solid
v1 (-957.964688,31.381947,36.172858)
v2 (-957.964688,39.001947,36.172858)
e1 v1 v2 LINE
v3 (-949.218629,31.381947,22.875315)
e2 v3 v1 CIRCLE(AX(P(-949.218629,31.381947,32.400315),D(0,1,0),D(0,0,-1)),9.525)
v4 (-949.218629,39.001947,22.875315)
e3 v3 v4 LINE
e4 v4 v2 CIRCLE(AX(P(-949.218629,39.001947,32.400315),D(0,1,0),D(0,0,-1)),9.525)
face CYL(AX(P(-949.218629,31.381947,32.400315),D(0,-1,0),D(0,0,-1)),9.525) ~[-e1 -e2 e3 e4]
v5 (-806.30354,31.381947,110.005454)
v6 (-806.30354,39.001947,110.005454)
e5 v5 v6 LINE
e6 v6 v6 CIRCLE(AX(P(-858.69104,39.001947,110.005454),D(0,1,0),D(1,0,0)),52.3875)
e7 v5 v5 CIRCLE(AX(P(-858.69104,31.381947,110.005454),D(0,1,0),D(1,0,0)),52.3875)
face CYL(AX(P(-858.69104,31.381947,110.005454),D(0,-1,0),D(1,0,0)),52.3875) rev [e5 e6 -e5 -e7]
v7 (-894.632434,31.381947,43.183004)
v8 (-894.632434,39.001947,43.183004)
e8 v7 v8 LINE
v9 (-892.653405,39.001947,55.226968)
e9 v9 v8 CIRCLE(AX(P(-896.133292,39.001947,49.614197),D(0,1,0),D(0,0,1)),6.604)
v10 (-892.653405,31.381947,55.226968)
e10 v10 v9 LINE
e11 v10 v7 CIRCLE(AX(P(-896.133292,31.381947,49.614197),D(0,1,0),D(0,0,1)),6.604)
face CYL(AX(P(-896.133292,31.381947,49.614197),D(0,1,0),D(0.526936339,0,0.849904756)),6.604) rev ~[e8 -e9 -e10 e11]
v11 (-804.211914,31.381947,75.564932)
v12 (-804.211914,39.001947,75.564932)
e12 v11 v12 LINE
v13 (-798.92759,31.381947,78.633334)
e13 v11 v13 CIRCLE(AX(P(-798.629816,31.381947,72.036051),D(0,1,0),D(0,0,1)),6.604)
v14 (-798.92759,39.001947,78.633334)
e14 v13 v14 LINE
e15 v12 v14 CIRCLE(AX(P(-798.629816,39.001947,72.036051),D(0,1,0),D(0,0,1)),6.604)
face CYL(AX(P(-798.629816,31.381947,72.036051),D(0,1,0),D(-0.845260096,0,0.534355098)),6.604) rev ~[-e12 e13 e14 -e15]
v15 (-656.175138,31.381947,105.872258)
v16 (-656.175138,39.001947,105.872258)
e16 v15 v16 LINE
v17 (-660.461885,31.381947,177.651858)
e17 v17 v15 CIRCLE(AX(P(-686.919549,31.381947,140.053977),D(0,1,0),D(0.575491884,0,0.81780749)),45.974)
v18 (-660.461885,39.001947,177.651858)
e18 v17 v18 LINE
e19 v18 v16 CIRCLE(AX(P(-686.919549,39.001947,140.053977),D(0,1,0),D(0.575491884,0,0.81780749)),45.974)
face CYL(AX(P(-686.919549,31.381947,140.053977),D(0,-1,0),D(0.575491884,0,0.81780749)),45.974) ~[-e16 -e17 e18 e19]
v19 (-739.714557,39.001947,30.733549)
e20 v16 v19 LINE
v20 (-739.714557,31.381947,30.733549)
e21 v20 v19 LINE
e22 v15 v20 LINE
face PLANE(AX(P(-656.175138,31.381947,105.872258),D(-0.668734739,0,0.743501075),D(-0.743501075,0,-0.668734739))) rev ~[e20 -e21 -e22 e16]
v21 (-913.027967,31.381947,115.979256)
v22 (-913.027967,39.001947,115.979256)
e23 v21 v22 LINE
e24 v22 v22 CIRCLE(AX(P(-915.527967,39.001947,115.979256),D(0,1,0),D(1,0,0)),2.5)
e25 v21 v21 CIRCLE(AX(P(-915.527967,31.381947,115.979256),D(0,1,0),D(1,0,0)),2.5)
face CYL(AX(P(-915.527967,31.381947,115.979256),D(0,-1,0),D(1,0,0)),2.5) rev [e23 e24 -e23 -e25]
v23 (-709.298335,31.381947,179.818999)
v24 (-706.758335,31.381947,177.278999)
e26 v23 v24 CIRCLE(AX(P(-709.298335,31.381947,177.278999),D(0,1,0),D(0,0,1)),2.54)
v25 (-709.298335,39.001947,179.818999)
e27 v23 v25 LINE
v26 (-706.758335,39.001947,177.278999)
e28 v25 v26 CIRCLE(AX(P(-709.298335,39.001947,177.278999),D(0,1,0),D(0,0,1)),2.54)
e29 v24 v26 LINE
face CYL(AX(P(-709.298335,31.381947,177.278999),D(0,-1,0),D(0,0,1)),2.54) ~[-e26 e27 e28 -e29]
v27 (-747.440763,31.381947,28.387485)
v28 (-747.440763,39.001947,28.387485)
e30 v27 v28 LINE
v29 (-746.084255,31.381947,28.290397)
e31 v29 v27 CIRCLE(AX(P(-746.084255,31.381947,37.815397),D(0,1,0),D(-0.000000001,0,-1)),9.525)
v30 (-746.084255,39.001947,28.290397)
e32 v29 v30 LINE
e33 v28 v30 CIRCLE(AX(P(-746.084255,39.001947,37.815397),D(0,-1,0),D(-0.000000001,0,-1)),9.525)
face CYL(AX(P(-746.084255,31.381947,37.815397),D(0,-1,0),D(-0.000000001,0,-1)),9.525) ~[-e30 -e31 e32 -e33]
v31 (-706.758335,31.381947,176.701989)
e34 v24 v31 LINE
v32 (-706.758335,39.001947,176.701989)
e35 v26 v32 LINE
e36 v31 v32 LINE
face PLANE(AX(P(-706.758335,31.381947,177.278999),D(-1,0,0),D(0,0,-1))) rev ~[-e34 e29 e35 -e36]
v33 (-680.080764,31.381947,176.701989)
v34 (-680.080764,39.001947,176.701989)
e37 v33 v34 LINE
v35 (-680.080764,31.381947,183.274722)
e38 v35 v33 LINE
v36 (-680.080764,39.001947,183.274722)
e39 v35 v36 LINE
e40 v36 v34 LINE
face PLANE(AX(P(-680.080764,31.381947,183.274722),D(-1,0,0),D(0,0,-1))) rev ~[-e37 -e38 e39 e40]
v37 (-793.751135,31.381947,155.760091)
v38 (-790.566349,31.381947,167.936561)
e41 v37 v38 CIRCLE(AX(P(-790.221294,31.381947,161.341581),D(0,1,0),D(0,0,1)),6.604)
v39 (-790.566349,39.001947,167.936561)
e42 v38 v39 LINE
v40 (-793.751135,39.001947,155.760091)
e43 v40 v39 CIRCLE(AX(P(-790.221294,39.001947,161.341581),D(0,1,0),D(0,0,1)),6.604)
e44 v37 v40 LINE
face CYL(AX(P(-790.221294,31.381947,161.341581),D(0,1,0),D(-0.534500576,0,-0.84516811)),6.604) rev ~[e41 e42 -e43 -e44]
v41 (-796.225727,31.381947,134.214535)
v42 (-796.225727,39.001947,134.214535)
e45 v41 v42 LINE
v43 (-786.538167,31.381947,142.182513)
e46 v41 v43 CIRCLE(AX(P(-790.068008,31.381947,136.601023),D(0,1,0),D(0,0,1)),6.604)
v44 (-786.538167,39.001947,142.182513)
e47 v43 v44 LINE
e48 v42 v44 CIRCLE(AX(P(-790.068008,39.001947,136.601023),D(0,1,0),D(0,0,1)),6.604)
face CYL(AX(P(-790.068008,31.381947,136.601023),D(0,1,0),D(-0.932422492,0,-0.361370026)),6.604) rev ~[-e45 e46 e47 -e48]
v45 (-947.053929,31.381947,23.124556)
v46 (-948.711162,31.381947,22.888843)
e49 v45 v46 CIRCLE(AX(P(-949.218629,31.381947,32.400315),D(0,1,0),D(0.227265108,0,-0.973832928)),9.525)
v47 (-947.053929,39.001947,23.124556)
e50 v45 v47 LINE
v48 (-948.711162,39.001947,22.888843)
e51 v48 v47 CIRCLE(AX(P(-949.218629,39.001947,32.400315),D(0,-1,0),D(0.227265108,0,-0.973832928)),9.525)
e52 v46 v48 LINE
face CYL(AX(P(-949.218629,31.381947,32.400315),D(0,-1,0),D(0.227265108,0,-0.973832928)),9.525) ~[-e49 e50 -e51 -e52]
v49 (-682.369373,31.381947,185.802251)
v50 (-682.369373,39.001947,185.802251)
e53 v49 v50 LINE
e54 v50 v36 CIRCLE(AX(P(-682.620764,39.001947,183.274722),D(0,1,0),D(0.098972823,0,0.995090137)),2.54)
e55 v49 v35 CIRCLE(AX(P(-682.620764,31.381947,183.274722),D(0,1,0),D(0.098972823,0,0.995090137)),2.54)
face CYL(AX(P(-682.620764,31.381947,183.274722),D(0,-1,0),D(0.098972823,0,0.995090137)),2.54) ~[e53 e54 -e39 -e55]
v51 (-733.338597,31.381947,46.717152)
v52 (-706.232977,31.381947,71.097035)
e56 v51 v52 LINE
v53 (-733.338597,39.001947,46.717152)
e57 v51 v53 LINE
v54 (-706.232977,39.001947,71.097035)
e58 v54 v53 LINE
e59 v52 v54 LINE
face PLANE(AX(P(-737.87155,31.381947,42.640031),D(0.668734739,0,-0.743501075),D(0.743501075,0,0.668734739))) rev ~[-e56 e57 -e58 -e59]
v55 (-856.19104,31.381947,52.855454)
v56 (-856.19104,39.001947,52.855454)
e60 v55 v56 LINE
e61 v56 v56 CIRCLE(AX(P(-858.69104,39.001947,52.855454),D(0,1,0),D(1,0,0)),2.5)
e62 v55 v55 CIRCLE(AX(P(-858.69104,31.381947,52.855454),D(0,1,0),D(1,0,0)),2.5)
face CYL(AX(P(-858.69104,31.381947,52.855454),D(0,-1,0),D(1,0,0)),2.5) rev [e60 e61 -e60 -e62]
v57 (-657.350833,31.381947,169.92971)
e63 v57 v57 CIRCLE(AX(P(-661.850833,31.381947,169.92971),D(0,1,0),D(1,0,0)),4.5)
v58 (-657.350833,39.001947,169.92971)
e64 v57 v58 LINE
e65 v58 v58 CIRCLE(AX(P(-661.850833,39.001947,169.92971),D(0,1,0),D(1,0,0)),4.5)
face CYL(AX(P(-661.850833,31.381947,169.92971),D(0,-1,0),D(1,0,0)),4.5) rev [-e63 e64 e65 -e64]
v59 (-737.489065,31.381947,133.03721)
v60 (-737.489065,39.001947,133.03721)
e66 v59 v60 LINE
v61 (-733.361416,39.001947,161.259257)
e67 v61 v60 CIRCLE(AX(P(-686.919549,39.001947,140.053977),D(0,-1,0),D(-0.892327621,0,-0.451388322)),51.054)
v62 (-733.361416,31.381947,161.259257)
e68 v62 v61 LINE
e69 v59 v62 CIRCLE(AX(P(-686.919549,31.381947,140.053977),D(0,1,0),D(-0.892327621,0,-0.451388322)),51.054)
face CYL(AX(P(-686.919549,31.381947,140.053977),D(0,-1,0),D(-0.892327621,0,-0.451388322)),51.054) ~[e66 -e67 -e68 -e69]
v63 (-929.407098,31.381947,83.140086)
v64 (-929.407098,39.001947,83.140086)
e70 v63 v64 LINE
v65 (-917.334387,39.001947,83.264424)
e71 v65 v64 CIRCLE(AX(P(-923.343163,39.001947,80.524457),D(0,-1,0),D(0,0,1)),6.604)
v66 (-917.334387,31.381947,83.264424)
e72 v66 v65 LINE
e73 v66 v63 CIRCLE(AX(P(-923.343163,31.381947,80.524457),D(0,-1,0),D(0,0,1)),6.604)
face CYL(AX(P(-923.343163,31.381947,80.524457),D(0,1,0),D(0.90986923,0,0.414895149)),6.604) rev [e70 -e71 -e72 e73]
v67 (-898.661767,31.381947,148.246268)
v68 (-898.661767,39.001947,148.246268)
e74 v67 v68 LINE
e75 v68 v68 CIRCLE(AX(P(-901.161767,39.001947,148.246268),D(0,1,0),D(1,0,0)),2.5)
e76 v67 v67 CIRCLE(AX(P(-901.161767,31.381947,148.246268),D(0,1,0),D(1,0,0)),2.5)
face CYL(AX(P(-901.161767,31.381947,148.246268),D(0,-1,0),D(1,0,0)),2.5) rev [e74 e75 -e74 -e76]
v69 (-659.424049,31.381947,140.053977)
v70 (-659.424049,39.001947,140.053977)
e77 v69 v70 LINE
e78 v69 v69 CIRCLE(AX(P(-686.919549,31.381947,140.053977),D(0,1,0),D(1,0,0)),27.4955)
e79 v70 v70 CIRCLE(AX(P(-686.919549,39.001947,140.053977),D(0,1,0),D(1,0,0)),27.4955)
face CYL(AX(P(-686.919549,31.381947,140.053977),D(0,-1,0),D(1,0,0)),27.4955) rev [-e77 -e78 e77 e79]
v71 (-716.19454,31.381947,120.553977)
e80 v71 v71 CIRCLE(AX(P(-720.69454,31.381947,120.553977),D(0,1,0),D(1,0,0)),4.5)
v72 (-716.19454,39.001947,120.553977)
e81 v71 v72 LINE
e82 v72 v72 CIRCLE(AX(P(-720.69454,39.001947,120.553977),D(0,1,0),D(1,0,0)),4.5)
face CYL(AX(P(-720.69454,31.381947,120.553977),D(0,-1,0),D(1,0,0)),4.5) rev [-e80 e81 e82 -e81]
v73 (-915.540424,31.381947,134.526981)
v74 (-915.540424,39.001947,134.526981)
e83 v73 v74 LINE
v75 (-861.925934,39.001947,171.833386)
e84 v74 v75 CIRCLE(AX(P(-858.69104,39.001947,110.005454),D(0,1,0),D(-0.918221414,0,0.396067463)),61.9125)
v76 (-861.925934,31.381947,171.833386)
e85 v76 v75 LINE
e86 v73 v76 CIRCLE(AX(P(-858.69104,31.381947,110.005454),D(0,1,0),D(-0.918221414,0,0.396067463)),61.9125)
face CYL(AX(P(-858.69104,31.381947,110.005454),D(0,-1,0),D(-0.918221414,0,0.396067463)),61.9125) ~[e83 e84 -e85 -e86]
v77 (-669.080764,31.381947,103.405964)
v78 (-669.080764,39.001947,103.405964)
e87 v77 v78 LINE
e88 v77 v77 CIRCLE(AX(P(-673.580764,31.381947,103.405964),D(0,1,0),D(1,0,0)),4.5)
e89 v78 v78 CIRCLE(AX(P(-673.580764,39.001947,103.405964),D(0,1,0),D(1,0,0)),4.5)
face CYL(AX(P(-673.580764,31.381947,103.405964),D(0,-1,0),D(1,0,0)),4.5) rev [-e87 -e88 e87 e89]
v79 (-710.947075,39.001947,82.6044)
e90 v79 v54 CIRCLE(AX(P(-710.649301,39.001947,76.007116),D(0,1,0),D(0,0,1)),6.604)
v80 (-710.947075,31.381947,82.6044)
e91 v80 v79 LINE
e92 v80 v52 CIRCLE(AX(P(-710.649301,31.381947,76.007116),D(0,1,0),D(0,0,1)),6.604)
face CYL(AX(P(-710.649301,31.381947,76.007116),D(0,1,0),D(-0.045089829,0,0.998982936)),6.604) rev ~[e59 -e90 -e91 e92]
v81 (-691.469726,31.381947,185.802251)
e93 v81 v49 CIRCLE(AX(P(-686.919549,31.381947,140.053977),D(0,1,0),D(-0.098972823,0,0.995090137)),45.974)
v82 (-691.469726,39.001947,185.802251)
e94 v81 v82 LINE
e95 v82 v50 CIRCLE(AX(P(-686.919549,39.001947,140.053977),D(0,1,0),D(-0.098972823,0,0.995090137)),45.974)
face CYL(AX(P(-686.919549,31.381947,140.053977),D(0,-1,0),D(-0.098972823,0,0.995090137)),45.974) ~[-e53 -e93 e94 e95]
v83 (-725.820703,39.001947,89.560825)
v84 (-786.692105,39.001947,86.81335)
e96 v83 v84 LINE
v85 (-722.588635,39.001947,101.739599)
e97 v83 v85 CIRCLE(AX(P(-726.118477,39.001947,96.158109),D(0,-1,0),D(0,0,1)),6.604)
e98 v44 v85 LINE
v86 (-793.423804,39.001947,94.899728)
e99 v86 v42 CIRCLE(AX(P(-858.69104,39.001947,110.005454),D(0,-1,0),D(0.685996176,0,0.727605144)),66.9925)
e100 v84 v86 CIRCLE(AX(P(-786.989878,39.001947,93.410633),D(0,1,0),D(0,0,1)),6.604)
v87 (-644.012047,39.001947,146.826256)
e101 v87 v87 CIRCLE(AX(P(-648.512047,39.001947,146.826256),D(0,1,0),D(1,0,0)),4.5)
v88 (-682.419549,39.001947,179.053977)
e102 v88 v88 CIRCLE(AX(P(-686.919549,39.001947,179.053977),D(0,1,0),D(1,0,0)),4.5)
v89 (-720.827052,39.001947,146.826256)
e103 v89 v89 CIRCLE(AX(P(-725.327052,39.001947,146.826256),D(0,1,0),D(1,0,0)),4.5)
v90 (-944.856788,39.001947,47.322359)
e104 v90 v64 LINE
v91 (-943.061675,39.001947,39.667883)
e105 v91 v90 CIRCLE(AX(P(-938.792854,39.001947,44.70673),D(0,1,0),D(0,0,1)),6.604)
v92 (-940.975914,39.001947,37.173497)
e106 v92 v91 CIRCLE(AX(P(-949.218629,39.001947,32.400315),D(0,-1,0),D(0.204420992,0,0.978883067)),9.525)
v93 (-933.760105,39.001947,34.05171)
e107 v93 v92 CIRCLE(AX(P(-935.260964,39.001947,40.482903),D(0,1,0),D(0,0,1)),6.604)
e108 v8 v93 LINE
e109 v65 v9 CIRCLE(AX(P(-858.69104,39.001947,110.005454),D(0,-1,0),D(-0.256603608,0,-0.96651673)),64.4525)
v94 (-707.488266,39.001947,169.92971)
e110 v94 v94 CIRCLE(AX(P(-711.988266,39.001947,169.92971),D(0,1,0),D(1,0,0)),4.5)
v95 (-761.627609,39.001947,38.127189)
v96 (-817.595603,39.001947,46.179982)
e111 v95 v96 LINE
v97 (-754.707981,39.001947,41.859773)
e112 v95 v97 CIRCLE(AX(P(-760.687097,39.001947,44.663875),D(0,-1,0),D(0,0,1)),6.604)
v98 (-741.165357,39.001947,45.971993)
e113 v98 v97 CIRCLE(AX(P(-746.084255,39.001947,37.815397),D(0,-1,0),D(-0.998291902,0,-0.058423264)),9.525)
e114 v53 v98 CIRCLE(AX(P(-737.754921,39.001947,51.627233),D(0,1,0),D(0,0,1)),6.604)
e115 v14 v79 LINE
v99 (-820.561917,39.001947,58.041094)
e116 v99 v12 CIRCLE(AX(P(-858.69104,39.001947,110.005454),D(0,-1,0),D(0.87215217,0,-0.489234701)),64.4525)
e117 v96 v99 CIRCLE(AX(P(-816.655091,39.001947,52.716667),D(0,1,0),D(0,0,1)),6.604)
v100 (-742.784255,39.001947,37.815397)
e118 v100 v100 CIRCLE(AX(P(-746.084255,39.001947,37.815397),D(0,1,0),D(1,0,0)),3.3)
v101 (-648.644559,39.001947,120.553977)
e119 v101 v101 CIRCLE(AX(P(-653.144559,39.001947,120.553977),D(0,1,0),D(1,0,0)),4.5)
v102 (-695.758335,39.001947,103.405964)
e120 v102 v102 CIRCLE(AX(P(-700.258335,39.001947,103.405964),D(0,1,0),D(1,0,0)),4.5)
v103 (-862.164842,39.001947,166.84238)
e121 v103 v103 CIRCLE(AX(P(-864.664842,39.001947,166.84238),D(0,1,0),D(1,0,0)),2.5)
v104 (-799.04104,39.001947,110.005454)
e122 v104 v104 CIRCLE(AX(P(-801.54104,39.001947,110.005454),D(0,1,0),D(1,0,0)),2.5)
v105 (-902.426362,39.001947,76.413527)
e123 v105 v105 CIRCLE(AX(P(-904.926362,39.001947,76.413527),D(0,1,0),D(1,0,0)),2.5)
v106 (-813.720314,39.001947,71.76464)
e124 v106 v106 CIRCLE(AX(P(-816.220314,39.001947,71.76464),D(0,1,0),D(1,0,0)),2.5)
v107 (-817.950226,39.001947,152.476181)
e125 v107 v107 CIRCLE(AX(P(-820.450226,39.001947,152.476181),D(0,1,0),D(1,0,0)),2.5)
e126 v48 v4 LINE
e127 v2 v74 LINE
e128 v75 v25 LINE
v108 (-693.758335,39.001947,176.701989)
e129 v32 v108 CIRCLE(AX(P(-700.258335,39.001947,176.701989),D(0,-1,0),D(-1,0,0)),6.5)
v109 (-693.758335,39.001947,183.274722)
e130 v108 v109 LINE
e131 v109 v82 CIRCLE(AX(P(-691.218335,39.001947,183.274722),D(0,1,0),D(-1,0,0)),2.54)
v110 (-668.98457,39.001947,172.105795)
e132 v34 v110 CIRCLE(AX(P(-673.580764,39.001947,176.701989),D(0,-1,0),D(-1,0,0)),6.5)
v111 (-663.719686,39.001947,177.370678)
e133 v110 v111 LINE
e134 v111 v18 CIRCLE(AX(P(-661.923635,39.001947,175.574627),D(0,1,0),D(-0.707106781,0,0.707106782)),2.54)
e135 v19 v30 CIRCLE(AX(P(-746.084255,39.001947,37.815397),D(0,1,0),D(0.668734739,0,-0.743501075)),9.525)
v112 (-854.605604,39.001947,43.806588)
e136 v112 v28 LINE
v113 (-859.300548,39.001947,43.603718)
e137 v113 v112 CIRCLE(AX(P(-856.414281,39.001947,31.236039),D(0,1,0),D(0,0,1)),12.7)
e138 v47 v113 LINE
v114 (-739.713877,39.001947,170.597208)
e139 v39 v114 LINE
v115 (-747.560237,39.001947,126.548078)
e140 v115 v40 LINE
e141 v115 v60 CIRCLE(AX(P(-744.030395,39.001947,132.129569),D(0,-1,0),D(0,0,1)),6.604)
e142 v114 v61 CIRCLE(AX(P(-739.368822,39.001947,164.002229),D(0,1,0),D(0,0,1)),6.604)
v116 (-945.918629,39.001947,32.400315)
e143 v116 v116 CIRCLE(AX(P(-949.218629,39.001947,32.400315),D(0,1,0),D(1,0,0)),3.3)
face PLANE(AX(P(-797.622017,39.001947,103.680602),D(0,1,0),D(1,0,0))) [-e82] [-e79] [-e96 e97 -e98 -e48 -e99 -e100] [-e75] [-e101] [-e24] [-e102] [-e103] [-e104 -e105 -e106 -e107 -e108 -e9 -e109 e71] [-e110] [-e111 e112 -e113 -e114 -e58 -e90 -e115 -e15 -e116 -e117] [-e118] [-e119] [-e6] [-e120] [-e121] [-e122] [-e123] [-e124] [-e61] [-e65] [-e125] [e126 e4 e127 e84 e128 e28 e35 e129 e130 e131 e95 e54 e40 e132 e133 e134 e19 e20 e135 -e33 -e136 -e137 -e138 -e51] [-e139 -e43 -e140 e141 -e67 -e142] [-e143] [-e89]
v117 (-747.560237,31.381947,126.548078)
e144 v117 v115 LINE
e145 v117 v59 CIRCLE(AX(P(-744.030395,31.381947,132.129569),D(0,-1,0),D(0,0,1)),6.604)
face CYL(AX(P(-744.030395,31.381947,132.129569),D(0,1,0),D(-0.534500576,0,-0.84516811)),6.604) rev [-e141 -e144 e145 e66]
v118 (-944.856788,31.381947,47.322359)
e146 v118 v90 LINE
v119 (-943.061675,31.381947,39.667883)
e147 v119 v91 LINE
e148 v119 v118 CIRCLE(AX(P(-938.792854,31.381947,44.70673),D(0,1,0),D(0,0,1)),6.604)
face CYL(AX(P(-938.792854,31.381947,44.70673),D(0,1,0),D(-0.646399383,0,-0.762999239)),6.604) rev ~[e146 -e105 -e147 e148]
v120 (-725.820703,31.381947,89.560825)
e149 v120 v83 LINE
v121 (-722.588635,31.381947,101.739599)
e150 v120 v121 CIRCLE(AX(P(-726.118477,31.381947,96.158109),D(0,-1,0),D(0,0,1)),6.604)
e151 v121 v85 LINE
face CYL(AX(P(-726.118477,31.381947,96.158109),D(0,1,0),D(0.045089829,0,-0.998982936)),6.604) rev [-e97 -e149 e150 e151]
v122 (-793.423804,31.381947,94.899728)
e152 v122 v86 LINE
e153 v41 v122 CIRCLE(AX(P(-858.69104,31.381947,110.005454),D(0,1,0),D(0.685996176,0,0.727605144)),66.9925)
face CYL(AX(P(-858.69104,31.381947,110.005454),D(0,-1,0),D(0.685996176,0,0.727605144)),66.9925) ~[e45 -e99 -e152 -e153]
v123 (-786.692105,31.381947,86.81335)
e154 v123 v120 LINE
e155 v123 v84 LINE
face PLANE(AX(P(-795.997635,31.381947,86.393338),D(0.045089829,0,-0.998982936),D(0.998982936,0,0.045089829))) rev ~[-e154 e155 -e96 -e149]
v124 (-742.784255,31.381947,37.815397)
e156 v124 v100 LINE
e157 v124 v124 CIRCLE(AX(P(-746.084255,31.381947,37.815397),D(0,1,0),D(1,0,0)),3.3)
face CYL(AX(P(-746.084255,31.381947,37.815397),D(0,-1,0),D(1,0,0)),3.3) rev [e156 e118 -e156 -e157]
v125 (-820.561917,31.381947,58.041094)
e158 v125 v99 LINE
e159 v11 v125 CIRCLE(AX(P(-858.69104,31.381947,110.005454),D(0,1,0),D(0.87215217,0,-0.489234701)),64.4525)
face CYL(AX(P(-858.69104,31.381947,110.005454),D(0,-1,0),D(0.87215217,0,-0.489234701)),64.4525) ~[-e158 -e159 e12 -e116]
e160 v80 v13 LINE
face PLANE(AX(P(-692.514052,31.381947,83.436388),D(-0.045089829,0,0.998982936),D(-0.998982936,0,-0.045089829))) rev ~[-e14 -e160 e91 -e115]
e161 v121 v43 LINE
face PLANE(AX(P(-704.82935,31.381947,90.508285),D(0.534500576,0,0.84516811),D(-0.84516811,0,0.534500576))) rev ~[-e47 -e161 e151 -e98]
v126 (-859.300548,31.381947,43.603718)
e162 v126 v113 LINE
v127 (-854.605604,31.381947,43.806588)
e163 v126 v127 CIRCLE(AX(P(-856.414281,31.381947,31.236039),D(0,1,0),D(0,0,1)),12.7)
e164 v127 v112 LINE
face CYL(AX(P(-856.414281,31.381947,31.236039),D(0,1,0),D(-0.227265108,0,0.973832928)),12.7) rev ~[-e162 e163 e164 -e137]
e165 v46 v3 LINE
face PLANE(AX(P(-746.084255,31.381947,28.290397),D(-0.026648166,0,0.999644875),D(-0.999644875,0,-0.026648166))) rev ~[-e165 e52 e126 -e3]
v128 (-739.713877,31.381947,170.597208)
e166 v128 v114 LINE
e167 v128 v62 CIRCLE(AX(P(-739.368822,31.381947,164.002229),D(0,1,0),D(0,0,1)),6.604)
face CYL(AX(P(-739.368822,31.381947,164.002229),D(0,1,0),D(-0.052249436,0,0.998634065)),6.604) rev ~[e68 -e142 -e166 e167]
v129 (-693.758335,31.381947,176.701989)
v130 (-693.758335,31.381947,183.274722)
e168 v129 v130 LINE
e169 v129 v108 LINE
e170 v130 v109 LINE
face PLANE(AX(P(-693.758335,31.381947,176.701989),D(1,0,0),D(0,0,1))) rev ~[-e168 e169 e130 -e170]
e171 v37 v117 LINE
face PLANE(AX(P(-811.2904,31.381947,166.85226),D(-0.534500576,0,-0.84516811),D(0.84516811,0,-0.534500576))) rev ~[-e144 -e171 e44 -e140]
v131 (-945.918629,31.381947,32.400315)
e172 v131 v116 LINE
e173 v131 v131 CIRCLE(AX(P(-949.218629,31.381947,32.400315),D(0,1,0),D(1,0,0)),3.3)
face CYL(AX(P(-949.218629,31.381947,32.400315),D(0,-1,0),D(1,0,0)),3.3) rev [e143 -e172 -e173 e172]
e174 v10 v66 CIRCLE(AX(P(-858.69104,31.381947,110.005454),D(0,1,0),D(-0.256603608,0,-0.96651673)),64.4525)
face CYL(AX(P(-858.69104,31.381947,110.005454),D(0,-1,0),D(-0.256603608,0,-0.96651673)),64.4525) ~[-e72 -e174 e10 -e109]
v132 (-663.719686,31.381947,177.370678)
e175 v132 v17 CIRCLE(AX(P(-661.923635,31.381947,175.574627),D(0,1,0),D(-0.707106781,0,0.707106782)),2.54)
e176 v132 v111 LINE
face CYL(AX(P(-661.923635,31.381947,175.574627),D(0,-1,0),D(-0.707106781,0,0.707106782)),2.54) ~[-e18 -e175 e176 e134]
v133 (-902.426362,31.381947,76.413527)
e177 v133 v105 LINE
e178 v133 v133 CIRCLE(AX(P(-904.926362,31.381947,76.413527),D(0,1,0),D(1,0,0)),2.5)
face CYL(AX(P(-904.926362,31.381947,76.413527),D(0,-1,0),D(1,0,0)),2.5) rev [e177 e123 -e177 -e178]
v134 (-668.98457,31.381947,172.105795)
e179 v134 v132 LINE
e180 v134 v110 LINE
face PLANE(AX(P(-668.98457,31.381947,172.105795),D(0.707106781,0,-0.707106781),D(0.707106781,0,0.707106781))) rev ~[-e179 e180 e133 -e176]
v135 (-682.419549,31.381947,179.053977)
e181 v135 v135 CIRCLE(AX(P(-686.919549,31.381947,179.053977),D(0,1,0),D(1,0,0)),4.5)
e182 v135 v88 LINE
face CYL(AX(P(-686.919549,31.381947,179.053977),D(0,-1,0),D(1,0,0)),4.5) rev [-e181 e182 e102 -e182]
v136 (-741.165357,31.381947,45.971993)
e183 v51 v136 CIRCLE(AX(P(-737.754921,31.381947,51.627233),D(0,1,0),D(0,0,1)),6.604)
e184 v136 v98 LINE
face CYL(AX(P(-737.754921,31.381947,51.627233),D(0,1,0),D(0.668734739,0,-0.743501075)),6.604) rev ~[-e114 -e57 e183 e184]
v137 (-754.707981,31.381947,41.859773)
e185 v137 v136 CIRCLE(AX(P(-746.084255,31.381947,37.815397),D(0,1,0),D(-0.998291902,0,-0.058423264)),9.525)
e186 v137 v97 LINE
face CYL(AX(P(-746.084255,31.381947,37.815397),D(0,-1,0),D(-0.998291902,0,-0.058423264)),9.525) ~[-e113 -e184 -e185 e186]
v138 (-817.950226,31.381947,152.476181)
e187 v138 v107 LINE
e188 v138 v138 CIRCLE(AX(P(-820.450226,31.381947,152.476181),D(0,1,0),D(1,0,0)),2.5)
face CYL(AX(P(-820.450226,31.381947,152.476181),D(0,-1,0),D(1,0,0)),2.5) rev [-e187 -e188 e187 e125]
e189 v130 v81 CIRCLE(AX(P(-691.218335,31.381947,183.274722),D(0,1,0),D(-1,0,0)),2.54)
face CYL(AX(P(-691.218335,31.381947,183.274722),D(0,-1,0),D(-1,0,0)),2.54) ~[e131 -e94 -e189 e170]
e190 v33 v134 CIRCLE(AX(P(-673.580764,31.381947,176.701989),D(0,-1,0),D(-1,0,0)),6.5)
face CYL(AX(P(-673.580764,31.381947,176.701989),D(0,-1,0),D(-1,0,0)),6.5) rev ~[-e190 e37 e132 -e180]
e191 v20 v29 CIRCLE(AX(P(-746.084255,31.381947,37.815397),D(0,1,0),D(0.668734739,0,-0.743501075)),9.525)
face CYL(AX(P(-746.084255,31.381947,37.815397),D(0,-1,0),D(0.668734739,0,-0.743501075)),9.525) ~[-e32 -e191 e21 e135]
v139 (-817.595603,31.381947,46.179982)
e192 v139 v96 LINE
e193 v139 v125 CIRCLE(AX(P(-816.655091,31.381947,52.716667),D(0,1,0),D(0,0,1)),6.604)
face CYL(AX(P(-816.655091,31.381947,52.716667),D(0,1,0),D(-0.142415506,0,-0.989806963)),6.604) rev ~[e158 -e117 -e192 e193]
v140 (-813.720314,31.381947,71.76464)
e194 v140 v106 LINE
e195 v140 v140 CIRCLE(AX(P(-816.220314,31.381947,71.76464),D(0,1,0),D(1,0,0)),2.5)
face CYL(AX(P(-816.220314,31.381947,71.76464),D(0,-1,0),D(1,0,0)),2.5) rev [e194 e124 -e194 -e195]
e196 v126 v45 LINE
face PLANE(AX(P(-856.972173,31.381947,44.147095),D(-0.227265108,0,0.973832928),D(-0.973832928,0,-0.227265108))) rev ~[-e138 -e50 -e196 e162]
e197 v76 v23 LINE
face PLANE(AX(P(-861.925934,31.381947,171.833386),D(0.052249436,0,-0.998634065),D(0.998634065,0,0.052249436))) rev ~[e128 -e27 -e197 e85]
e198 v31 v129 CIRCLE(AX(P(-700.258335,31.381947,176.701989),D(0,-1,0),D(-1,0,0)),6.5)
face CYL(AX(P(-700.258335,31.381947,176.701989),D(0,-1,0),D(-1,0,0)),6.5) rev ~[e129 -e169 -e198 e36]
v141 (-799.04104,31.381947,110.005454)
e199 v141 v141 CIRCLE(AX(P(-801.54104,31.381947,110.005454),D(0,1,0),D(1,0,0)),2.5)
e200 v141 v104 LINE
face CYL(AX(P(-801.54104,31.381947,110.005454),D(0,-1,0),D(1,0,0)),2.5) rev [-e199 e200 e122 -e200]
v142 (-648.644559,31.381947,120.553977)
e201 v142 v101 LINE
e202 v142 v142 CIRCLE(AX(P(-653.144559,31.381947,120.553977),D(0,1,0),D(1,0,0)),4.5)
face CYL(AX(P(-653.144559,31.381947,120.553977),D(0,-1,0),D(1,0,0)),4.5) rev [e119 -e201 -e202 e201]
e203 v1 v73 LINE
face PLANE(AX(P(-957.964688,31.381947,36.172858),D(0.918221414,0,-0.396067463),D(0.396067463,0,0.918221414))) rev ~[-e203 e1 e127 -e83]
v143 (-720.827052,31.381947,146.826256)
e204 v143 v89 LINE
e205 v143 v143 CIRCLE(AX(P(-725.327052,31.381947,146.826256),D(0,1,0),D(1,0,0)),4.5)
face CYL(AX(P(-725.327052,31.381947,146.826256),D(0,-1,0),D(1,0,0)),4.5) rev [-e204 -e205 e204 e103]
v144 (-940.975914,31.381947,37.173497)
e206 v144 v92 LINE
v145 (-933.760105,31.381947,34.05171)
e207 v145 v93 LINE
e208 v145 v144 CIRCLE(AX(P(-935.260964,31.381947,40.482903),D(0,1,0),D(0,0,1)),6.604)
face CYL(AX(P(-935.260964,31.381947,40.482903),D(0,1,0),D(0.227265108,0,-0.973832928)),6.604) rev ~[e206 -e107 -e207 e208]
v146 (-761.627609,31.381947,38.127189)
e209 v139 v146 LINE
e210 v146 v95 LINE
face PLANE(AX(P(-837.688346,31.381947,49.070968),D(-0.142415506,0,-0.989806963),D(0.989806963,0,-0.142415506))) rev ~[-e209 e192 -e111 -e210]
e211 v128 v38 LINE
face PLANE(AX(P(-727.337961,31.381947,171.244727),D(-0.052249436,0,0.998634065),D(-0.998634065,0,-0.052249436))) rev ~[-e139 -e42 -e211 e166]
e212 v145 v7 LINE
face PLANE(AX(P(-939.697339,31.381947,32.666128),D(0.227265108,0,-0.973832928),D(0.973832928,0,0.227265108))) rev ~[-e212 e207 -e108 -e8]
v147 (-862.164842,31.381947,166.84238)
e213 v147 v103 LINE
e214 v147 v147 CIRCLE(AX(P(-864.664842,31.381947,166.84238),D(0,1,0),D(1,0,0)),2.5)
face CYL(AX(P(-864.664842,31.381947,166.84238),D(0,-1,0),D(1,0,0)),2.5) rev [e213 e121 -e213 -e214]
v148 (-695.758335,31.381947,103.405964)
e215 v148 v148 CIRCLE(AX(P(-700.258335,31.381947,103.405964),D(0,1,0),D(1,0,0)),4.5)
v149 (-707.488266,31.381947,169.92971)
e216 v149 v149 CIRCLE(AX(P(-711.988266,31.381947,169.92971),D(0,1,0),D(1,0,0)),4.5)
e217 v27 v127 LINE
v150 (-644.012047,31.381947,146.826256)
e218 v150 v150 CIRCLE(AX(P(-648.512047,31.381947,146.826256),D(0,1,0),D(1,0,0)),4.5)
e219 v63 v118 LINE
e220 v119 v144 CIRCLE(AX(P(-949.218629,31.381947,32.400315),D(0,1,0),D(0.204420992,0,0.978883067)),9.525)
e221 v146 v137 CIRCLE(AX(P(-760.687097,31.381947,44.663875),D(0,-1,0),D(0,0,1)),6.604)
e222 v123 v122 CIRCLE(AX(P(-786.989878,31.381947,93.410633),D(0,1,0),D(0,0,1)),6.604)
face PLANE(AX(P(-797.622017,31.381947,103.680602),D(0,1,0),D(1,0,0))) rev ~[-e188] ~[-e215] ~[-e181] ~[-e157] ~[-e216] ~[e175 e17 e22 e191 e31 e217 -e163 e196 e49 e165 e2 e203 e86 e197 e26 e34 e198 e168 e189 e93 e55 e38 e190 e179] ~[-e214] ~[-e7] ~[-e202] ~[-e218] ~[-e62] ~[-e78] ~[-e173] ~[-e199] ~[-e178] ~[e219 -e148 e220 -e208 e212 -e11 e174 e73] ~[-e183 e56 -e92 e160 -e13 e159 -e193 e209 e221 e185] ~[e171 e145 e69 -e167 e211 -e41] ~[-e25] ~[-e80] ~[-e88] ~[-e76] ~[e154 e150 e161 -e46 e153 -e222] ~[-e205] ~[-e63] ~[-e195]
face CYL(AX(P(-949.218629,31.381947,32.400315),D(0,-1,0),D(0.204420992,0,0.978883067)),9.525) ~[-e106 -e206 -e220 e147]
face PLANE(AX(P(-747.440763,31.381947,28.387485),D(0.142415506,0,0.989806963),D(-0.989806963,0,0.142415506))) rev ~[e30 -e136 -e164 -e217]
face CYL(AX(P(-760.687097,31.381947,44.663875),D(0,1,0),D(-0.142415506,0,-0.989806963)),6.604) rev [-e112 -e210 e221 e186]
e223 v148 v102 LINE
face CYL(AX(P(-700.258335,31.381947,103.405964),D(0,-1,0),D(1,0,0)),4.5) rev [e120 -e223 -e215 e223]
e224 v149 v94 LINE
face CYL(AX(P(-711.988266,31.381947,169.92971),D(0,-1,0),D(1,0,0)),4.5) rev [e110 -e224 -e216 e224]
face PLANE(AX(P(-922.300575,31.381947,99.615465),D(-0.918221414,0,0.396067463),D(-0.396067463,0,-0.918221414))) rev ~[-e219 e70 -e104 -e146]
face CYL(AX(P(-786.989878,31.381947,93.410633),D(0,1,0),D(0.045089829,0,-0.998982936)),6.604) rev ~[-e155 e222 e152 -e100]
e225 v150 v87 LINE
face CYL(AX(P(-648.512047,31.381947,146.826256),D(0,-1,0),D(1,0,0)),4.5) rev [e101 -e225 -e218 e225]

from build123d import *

# Parameters (mm, degrees)
SKETCH2_R           = 4.5
SKETCH2_R_2         = 27.4955
SKETCH2_R_3         = 2.5
SKETCH2_R_4         = 52.3875
SKETCH2_R_5         = 3.3
BOSS_EXTRUDE1_DEPTH = 7.62
CUT_EXTRUDE1_DEPTH  = 977.654400972
FILLET2_R           = 12.7
CUT_EXTRUDE2_DEPTH  = 977.654400972
FILLET3_R           = 6.604


with BuildPart() as part:
    # Sketch2 → Boss-Extrude1 (new body)
    with BuildSketch(Plane(origin=(0, 31.381947118, 0), x_dir=(1, 0, 0), z_dir=(0, 1, 0))):
        with BuildLine():
            ThreePointArc((-706.758334948, -176.701988839), (-700.258334948, -170.201988839), (-693.758334948, -176.701988839))
            Line((-693.758334948, -176.701988839), (-693.758334948, -183.274721629))
            ThreePointArc((-693.758334948, -183.274721629), (-693.101169654, -184.979577479), (-691.469725918, -185.802250576))
            ThreePointArc((-691.469725918, -185.802250576), (-686.919549358, -186.027976628), (-682.369372798, -185.802250576))
            ThreePointArc((-682.369372798, -185.802250576), (-680.737929062, -184.979577479), (-680.080763768, -183.274721629))
            Line((-680.080763768, -183.274721629), (-680.080763768, -176.701988839))
            ThreePointArc((-680.080763768, -176.701988839), (-676.068206079, -170.696771877), (-668.984569691, -172.105794761))
            Line((-668.984569691, -172.105794761), (-663.719686073, -177.370678379))
            ThreePointArc((-663.719686073, -177.370678379), (-662.142049476, -178.105218992), (-660.461885462, -177.651858179))
            ThreePointArc((-660.461885462, -177.651858179), (-641.02731599, -142.794705094), (-656.175138478, -105.872258186))
            Line((-656.175138478, -105.872258186), (-739.714556945, -30.733548866))
            ThreePointArc((-739.714556945, -30.733548866), (-742.67316861, -28.92213442), (-746.084255332, -28.29039661))
            Line((-746.084255332, -28.29039661), (-949.218629158, -22.875315026))
            ThreePointArc((-949.218629158, -22.875315026), (-957.176615495, -27.166188695), (-957.964688125, -36.172857609))
            Line((-957.964688125, -36.172857609), (-915.540423748, -134.526980787))
            ThreePointArc((-915.540423748, -134.526980787), (-894.053054389, -160.825584136), (-861.92593364, -171.83338557))
            Line((-861.92593364, -171.83338557), (-709.298334948, -179.818999281))
            ThreePointArc((-709.298334948, -179.818999281), (-707.502283723, -179.075050505), (-706.758334948, -177.278999281))
            Line((-706.758334948, -177.278999281), (-706.758334948, -176.701988839))
        make_face()
        with Locations((-686.919549358, -179.053976628)):
            Circle(SKETCH2_R, mode=Mode.SUBTRACT)
        with Locations((-711.988266136, -169.92970991)):
            Circle(SKETCH2_R, mode=Mode.SUBTRACT)
        with Locations((-661.85083258, -169.92970991)):
            Circle(SKETCH2_R, mode=Mode.SUBTRACT)
        with Locations((-725.327051725, -146.826255557)):
            Circle(SKETCH2_R, mode=Mode.SUBTRACT)
        with Locations((-686.919549358, -140.053976628)):
            Circle(SKETCH2_R_2, mode=Mode.SUBTRACT)
        with Locations((-648.51204699, -146.826255557)):
            Circle(SKETCH2_R, mode=Mode.SUBTRACT)
        with Locations((-720.694540106, -120.553976628)):
            Circle(SKETCH2_R, mode=Mode.SUBTRACT)
        with Locations((-653.14455861, -120.553976628)):
            Circle(SKETCH2_R, mode=Mode.SUBTRACT)
        with Locations((-700.258334948, -103.405964417)):
            Circle(SKETCH2_R, mode=Mode.SUBTRACT)
        with Locations((-673.580763768, -103.405964417)):
            Circle(SKETCH2_R, mode=Mode.SUBTRACT)
        with Locations((-816.220313684, -71.764639846)):
            Circle(SKETCH2_R_3, mode=Mode.SUBTRACT)
        with Locations((-858.69104046, -52.855453999)):
            Circle(SKETCH2_R_3, mode=Mode.SUBTRACT)
        with Locations((-901.161767236, -148.246268152)):
            Circle(SKETCH2_R_3, mode=Mode.SUBTRACT)
        with Locations((-864.664842136, -166.842380319)):
            Circle(SKETCH2_R_3, mode=Mode.SUBTRACT)
        with Locations((-820.450226307, -152.476180775)):
            Circle(SKETCH2_R_3, mode=Mode.SUBTRACT)
        with Locations((-915.52796678, -115.979255675)):
            Circle(SKETCH2_R_3, mode=Mode.SUBTRACT)
        with Locations((-858.69104046, -110.005453999)):
            Circle(SKETCH2_R_4, mode=Mode.SUBTRACT)
        with Locations((-801.54104046, -110.005453999)):
            Circle(SKETCH2_R_3, mode=Mode.SUBTRACT)
        with Locations((-904.926361688, -76.41352683)):
            Circle(SKETCH2_R_3, mode=Mode.SUBTRACT)
        with Locations((-949.218629158, -32.400315026)):
            Circle(SKETCH2_R_5, mode=Mode.SUBTRACT)
        with Locations((-746.084255332, -37.81539661)):
            Circle(SKETCH2_R_5, mode=Mode.SUBTRACT)
    extrude(amount=BOSS_EXTRUDE1_DEPTH)

    # Sketch3 → Cut-Extrude1 (cut, through all)
    with BuildSketch(Plane.XZ.offset(-31.381947118)):
        with BuildLine():
            ThreePointArc((-746.084255332, 28.29039661), (-746.764244179, 28.314699785), (-747.440763024, 28.387485289))
            Line((-747.440763024, 28.387485289), (-856.972172798, 44.147094697))
            Line((-856.972172798, 44.147094697), (-947.053929007, 23.124556391))
            ThreePointArc((-947.053929007, 23.124556391), (-947.877357404, 22.970224089), (-948.71116187, 22.888842903))
            Line((-948.71116187, 22.888842903), (-746.084255332, 28.29039661))
        make_face()
    extrude(amount=-CUT_EXTRUDE1_DEPTH, mode=Mode.SUBTRACT)

    # Fillet2
    fillet2_edges = [part.edges().sort_by_distance(p)[0] for p in [
        (-856.972172798, 35.191947118, 44.147094697),
    ]]
    fillet(fillet2_edges, radius=FILLET2_R)

    # Sketch4 → Cut-Extrude2 (cut, through all)
    with BuildSketch(Plane.XZ.offset(-31.381947118)):
        with BuildLine():
            ThreePointArc((-755.592985701, 37.258915017), (-748.851749471, 46.929484671), (-737.871550291, 42.640031406))
            Line((-737.871550291, 42.640031406), (-692.514052151, 83.436387555))
            Line((-692.514052151, 83.436387555), (-802.478652725, 78.47305445))
            ThreePointArc((-802.478652725, 78.47305445), (-817.379263712, 60.533625064), (-837.688346094, 49.070967987))
            Line((-837.688346094, 49.070967987), (-755.592985701, 37.258915017))
        make_face()
        with BuildLine():
            Line((-922.300574954, 99.615464698), (-947.271519207, 41.724176235))
            ThreePointArc((-947.271519207, 41.724176235), (-941.911570095, 38.510348812), (-939.697338874, 32.666127625))
            Line((-939.697338874, 32.666127625), (-875.229784474, 47.711034484))
            ThreePointArc((-875.229784474, 47.711034484), (-906.434669416, 66.707986979), (-922.300574954, 99.615464698))
        make_face()
        with BuildLine():
            ThreePointArc((-732.476443701, 117.008797222), (-737.745943415, 144.869429162), (-727.337961012, 171.244727106))
            Line((-727.337961012, 171.244727106), (-811.290400037, 166.852259728))
            Line((-811.290400037, 166.852259728), (-732.476443701, 117.008797222))
        make_face()
        with BuildLine():
            Line((-704.829350056, 90.508285443), (-812.734441613, 158.749541627))
            ThreePointArc((-812.734441613, 158.749541627), (-793.421898525, 125.102942774), (-795.997635489, 86.393337843))
            Line((-795.997635489, 86.393337843), (-704.829350056, 90.508285443))
        make_face()
    extrude(amount=-CUT_EXTRUDE2_DEPTH, mode=Mode.SUBTRACT)

    # Fillet3
    fillet3_edges = [part.edges().sort_by_distance(p)[0] for p in [
        (-732.476443701, 35.191947118, 117.008797222),
        (-727.337961012, 35.191947118, 171.244727106),
        (-811.290400037, 35.191947118, 166.852259728),
        (-704.829350056, 35.191947118, 90.508285443),
        (-795.997635489, 35.191947118, 86.393337843),
        (-812.734441613, 35.191947118, 158.749541627),
        (-692.514052151, 35.191947118, 83.436387555),
        (-802.478652725, 35.191947118, 78.47305445),
        (-837.688346094, 35.191947118, 49.070967987),
        (-875.229784474, 35.191947118, 47.711034484),
        (-922.300574954, 35.191947118, 99.615464698),
        (-737.871550291, 35.191947118, 42.640031406),
        (-755.592985701, 35.191947118, 37.258915017),
        (-939.697338874, 35.191947118, 32.666127625),
        (-947.271519207, 35.191947118, 41.724176235),
    ]]
    fillet(fillet3_edges, radius=FILLET3_R)


solid = part.part
